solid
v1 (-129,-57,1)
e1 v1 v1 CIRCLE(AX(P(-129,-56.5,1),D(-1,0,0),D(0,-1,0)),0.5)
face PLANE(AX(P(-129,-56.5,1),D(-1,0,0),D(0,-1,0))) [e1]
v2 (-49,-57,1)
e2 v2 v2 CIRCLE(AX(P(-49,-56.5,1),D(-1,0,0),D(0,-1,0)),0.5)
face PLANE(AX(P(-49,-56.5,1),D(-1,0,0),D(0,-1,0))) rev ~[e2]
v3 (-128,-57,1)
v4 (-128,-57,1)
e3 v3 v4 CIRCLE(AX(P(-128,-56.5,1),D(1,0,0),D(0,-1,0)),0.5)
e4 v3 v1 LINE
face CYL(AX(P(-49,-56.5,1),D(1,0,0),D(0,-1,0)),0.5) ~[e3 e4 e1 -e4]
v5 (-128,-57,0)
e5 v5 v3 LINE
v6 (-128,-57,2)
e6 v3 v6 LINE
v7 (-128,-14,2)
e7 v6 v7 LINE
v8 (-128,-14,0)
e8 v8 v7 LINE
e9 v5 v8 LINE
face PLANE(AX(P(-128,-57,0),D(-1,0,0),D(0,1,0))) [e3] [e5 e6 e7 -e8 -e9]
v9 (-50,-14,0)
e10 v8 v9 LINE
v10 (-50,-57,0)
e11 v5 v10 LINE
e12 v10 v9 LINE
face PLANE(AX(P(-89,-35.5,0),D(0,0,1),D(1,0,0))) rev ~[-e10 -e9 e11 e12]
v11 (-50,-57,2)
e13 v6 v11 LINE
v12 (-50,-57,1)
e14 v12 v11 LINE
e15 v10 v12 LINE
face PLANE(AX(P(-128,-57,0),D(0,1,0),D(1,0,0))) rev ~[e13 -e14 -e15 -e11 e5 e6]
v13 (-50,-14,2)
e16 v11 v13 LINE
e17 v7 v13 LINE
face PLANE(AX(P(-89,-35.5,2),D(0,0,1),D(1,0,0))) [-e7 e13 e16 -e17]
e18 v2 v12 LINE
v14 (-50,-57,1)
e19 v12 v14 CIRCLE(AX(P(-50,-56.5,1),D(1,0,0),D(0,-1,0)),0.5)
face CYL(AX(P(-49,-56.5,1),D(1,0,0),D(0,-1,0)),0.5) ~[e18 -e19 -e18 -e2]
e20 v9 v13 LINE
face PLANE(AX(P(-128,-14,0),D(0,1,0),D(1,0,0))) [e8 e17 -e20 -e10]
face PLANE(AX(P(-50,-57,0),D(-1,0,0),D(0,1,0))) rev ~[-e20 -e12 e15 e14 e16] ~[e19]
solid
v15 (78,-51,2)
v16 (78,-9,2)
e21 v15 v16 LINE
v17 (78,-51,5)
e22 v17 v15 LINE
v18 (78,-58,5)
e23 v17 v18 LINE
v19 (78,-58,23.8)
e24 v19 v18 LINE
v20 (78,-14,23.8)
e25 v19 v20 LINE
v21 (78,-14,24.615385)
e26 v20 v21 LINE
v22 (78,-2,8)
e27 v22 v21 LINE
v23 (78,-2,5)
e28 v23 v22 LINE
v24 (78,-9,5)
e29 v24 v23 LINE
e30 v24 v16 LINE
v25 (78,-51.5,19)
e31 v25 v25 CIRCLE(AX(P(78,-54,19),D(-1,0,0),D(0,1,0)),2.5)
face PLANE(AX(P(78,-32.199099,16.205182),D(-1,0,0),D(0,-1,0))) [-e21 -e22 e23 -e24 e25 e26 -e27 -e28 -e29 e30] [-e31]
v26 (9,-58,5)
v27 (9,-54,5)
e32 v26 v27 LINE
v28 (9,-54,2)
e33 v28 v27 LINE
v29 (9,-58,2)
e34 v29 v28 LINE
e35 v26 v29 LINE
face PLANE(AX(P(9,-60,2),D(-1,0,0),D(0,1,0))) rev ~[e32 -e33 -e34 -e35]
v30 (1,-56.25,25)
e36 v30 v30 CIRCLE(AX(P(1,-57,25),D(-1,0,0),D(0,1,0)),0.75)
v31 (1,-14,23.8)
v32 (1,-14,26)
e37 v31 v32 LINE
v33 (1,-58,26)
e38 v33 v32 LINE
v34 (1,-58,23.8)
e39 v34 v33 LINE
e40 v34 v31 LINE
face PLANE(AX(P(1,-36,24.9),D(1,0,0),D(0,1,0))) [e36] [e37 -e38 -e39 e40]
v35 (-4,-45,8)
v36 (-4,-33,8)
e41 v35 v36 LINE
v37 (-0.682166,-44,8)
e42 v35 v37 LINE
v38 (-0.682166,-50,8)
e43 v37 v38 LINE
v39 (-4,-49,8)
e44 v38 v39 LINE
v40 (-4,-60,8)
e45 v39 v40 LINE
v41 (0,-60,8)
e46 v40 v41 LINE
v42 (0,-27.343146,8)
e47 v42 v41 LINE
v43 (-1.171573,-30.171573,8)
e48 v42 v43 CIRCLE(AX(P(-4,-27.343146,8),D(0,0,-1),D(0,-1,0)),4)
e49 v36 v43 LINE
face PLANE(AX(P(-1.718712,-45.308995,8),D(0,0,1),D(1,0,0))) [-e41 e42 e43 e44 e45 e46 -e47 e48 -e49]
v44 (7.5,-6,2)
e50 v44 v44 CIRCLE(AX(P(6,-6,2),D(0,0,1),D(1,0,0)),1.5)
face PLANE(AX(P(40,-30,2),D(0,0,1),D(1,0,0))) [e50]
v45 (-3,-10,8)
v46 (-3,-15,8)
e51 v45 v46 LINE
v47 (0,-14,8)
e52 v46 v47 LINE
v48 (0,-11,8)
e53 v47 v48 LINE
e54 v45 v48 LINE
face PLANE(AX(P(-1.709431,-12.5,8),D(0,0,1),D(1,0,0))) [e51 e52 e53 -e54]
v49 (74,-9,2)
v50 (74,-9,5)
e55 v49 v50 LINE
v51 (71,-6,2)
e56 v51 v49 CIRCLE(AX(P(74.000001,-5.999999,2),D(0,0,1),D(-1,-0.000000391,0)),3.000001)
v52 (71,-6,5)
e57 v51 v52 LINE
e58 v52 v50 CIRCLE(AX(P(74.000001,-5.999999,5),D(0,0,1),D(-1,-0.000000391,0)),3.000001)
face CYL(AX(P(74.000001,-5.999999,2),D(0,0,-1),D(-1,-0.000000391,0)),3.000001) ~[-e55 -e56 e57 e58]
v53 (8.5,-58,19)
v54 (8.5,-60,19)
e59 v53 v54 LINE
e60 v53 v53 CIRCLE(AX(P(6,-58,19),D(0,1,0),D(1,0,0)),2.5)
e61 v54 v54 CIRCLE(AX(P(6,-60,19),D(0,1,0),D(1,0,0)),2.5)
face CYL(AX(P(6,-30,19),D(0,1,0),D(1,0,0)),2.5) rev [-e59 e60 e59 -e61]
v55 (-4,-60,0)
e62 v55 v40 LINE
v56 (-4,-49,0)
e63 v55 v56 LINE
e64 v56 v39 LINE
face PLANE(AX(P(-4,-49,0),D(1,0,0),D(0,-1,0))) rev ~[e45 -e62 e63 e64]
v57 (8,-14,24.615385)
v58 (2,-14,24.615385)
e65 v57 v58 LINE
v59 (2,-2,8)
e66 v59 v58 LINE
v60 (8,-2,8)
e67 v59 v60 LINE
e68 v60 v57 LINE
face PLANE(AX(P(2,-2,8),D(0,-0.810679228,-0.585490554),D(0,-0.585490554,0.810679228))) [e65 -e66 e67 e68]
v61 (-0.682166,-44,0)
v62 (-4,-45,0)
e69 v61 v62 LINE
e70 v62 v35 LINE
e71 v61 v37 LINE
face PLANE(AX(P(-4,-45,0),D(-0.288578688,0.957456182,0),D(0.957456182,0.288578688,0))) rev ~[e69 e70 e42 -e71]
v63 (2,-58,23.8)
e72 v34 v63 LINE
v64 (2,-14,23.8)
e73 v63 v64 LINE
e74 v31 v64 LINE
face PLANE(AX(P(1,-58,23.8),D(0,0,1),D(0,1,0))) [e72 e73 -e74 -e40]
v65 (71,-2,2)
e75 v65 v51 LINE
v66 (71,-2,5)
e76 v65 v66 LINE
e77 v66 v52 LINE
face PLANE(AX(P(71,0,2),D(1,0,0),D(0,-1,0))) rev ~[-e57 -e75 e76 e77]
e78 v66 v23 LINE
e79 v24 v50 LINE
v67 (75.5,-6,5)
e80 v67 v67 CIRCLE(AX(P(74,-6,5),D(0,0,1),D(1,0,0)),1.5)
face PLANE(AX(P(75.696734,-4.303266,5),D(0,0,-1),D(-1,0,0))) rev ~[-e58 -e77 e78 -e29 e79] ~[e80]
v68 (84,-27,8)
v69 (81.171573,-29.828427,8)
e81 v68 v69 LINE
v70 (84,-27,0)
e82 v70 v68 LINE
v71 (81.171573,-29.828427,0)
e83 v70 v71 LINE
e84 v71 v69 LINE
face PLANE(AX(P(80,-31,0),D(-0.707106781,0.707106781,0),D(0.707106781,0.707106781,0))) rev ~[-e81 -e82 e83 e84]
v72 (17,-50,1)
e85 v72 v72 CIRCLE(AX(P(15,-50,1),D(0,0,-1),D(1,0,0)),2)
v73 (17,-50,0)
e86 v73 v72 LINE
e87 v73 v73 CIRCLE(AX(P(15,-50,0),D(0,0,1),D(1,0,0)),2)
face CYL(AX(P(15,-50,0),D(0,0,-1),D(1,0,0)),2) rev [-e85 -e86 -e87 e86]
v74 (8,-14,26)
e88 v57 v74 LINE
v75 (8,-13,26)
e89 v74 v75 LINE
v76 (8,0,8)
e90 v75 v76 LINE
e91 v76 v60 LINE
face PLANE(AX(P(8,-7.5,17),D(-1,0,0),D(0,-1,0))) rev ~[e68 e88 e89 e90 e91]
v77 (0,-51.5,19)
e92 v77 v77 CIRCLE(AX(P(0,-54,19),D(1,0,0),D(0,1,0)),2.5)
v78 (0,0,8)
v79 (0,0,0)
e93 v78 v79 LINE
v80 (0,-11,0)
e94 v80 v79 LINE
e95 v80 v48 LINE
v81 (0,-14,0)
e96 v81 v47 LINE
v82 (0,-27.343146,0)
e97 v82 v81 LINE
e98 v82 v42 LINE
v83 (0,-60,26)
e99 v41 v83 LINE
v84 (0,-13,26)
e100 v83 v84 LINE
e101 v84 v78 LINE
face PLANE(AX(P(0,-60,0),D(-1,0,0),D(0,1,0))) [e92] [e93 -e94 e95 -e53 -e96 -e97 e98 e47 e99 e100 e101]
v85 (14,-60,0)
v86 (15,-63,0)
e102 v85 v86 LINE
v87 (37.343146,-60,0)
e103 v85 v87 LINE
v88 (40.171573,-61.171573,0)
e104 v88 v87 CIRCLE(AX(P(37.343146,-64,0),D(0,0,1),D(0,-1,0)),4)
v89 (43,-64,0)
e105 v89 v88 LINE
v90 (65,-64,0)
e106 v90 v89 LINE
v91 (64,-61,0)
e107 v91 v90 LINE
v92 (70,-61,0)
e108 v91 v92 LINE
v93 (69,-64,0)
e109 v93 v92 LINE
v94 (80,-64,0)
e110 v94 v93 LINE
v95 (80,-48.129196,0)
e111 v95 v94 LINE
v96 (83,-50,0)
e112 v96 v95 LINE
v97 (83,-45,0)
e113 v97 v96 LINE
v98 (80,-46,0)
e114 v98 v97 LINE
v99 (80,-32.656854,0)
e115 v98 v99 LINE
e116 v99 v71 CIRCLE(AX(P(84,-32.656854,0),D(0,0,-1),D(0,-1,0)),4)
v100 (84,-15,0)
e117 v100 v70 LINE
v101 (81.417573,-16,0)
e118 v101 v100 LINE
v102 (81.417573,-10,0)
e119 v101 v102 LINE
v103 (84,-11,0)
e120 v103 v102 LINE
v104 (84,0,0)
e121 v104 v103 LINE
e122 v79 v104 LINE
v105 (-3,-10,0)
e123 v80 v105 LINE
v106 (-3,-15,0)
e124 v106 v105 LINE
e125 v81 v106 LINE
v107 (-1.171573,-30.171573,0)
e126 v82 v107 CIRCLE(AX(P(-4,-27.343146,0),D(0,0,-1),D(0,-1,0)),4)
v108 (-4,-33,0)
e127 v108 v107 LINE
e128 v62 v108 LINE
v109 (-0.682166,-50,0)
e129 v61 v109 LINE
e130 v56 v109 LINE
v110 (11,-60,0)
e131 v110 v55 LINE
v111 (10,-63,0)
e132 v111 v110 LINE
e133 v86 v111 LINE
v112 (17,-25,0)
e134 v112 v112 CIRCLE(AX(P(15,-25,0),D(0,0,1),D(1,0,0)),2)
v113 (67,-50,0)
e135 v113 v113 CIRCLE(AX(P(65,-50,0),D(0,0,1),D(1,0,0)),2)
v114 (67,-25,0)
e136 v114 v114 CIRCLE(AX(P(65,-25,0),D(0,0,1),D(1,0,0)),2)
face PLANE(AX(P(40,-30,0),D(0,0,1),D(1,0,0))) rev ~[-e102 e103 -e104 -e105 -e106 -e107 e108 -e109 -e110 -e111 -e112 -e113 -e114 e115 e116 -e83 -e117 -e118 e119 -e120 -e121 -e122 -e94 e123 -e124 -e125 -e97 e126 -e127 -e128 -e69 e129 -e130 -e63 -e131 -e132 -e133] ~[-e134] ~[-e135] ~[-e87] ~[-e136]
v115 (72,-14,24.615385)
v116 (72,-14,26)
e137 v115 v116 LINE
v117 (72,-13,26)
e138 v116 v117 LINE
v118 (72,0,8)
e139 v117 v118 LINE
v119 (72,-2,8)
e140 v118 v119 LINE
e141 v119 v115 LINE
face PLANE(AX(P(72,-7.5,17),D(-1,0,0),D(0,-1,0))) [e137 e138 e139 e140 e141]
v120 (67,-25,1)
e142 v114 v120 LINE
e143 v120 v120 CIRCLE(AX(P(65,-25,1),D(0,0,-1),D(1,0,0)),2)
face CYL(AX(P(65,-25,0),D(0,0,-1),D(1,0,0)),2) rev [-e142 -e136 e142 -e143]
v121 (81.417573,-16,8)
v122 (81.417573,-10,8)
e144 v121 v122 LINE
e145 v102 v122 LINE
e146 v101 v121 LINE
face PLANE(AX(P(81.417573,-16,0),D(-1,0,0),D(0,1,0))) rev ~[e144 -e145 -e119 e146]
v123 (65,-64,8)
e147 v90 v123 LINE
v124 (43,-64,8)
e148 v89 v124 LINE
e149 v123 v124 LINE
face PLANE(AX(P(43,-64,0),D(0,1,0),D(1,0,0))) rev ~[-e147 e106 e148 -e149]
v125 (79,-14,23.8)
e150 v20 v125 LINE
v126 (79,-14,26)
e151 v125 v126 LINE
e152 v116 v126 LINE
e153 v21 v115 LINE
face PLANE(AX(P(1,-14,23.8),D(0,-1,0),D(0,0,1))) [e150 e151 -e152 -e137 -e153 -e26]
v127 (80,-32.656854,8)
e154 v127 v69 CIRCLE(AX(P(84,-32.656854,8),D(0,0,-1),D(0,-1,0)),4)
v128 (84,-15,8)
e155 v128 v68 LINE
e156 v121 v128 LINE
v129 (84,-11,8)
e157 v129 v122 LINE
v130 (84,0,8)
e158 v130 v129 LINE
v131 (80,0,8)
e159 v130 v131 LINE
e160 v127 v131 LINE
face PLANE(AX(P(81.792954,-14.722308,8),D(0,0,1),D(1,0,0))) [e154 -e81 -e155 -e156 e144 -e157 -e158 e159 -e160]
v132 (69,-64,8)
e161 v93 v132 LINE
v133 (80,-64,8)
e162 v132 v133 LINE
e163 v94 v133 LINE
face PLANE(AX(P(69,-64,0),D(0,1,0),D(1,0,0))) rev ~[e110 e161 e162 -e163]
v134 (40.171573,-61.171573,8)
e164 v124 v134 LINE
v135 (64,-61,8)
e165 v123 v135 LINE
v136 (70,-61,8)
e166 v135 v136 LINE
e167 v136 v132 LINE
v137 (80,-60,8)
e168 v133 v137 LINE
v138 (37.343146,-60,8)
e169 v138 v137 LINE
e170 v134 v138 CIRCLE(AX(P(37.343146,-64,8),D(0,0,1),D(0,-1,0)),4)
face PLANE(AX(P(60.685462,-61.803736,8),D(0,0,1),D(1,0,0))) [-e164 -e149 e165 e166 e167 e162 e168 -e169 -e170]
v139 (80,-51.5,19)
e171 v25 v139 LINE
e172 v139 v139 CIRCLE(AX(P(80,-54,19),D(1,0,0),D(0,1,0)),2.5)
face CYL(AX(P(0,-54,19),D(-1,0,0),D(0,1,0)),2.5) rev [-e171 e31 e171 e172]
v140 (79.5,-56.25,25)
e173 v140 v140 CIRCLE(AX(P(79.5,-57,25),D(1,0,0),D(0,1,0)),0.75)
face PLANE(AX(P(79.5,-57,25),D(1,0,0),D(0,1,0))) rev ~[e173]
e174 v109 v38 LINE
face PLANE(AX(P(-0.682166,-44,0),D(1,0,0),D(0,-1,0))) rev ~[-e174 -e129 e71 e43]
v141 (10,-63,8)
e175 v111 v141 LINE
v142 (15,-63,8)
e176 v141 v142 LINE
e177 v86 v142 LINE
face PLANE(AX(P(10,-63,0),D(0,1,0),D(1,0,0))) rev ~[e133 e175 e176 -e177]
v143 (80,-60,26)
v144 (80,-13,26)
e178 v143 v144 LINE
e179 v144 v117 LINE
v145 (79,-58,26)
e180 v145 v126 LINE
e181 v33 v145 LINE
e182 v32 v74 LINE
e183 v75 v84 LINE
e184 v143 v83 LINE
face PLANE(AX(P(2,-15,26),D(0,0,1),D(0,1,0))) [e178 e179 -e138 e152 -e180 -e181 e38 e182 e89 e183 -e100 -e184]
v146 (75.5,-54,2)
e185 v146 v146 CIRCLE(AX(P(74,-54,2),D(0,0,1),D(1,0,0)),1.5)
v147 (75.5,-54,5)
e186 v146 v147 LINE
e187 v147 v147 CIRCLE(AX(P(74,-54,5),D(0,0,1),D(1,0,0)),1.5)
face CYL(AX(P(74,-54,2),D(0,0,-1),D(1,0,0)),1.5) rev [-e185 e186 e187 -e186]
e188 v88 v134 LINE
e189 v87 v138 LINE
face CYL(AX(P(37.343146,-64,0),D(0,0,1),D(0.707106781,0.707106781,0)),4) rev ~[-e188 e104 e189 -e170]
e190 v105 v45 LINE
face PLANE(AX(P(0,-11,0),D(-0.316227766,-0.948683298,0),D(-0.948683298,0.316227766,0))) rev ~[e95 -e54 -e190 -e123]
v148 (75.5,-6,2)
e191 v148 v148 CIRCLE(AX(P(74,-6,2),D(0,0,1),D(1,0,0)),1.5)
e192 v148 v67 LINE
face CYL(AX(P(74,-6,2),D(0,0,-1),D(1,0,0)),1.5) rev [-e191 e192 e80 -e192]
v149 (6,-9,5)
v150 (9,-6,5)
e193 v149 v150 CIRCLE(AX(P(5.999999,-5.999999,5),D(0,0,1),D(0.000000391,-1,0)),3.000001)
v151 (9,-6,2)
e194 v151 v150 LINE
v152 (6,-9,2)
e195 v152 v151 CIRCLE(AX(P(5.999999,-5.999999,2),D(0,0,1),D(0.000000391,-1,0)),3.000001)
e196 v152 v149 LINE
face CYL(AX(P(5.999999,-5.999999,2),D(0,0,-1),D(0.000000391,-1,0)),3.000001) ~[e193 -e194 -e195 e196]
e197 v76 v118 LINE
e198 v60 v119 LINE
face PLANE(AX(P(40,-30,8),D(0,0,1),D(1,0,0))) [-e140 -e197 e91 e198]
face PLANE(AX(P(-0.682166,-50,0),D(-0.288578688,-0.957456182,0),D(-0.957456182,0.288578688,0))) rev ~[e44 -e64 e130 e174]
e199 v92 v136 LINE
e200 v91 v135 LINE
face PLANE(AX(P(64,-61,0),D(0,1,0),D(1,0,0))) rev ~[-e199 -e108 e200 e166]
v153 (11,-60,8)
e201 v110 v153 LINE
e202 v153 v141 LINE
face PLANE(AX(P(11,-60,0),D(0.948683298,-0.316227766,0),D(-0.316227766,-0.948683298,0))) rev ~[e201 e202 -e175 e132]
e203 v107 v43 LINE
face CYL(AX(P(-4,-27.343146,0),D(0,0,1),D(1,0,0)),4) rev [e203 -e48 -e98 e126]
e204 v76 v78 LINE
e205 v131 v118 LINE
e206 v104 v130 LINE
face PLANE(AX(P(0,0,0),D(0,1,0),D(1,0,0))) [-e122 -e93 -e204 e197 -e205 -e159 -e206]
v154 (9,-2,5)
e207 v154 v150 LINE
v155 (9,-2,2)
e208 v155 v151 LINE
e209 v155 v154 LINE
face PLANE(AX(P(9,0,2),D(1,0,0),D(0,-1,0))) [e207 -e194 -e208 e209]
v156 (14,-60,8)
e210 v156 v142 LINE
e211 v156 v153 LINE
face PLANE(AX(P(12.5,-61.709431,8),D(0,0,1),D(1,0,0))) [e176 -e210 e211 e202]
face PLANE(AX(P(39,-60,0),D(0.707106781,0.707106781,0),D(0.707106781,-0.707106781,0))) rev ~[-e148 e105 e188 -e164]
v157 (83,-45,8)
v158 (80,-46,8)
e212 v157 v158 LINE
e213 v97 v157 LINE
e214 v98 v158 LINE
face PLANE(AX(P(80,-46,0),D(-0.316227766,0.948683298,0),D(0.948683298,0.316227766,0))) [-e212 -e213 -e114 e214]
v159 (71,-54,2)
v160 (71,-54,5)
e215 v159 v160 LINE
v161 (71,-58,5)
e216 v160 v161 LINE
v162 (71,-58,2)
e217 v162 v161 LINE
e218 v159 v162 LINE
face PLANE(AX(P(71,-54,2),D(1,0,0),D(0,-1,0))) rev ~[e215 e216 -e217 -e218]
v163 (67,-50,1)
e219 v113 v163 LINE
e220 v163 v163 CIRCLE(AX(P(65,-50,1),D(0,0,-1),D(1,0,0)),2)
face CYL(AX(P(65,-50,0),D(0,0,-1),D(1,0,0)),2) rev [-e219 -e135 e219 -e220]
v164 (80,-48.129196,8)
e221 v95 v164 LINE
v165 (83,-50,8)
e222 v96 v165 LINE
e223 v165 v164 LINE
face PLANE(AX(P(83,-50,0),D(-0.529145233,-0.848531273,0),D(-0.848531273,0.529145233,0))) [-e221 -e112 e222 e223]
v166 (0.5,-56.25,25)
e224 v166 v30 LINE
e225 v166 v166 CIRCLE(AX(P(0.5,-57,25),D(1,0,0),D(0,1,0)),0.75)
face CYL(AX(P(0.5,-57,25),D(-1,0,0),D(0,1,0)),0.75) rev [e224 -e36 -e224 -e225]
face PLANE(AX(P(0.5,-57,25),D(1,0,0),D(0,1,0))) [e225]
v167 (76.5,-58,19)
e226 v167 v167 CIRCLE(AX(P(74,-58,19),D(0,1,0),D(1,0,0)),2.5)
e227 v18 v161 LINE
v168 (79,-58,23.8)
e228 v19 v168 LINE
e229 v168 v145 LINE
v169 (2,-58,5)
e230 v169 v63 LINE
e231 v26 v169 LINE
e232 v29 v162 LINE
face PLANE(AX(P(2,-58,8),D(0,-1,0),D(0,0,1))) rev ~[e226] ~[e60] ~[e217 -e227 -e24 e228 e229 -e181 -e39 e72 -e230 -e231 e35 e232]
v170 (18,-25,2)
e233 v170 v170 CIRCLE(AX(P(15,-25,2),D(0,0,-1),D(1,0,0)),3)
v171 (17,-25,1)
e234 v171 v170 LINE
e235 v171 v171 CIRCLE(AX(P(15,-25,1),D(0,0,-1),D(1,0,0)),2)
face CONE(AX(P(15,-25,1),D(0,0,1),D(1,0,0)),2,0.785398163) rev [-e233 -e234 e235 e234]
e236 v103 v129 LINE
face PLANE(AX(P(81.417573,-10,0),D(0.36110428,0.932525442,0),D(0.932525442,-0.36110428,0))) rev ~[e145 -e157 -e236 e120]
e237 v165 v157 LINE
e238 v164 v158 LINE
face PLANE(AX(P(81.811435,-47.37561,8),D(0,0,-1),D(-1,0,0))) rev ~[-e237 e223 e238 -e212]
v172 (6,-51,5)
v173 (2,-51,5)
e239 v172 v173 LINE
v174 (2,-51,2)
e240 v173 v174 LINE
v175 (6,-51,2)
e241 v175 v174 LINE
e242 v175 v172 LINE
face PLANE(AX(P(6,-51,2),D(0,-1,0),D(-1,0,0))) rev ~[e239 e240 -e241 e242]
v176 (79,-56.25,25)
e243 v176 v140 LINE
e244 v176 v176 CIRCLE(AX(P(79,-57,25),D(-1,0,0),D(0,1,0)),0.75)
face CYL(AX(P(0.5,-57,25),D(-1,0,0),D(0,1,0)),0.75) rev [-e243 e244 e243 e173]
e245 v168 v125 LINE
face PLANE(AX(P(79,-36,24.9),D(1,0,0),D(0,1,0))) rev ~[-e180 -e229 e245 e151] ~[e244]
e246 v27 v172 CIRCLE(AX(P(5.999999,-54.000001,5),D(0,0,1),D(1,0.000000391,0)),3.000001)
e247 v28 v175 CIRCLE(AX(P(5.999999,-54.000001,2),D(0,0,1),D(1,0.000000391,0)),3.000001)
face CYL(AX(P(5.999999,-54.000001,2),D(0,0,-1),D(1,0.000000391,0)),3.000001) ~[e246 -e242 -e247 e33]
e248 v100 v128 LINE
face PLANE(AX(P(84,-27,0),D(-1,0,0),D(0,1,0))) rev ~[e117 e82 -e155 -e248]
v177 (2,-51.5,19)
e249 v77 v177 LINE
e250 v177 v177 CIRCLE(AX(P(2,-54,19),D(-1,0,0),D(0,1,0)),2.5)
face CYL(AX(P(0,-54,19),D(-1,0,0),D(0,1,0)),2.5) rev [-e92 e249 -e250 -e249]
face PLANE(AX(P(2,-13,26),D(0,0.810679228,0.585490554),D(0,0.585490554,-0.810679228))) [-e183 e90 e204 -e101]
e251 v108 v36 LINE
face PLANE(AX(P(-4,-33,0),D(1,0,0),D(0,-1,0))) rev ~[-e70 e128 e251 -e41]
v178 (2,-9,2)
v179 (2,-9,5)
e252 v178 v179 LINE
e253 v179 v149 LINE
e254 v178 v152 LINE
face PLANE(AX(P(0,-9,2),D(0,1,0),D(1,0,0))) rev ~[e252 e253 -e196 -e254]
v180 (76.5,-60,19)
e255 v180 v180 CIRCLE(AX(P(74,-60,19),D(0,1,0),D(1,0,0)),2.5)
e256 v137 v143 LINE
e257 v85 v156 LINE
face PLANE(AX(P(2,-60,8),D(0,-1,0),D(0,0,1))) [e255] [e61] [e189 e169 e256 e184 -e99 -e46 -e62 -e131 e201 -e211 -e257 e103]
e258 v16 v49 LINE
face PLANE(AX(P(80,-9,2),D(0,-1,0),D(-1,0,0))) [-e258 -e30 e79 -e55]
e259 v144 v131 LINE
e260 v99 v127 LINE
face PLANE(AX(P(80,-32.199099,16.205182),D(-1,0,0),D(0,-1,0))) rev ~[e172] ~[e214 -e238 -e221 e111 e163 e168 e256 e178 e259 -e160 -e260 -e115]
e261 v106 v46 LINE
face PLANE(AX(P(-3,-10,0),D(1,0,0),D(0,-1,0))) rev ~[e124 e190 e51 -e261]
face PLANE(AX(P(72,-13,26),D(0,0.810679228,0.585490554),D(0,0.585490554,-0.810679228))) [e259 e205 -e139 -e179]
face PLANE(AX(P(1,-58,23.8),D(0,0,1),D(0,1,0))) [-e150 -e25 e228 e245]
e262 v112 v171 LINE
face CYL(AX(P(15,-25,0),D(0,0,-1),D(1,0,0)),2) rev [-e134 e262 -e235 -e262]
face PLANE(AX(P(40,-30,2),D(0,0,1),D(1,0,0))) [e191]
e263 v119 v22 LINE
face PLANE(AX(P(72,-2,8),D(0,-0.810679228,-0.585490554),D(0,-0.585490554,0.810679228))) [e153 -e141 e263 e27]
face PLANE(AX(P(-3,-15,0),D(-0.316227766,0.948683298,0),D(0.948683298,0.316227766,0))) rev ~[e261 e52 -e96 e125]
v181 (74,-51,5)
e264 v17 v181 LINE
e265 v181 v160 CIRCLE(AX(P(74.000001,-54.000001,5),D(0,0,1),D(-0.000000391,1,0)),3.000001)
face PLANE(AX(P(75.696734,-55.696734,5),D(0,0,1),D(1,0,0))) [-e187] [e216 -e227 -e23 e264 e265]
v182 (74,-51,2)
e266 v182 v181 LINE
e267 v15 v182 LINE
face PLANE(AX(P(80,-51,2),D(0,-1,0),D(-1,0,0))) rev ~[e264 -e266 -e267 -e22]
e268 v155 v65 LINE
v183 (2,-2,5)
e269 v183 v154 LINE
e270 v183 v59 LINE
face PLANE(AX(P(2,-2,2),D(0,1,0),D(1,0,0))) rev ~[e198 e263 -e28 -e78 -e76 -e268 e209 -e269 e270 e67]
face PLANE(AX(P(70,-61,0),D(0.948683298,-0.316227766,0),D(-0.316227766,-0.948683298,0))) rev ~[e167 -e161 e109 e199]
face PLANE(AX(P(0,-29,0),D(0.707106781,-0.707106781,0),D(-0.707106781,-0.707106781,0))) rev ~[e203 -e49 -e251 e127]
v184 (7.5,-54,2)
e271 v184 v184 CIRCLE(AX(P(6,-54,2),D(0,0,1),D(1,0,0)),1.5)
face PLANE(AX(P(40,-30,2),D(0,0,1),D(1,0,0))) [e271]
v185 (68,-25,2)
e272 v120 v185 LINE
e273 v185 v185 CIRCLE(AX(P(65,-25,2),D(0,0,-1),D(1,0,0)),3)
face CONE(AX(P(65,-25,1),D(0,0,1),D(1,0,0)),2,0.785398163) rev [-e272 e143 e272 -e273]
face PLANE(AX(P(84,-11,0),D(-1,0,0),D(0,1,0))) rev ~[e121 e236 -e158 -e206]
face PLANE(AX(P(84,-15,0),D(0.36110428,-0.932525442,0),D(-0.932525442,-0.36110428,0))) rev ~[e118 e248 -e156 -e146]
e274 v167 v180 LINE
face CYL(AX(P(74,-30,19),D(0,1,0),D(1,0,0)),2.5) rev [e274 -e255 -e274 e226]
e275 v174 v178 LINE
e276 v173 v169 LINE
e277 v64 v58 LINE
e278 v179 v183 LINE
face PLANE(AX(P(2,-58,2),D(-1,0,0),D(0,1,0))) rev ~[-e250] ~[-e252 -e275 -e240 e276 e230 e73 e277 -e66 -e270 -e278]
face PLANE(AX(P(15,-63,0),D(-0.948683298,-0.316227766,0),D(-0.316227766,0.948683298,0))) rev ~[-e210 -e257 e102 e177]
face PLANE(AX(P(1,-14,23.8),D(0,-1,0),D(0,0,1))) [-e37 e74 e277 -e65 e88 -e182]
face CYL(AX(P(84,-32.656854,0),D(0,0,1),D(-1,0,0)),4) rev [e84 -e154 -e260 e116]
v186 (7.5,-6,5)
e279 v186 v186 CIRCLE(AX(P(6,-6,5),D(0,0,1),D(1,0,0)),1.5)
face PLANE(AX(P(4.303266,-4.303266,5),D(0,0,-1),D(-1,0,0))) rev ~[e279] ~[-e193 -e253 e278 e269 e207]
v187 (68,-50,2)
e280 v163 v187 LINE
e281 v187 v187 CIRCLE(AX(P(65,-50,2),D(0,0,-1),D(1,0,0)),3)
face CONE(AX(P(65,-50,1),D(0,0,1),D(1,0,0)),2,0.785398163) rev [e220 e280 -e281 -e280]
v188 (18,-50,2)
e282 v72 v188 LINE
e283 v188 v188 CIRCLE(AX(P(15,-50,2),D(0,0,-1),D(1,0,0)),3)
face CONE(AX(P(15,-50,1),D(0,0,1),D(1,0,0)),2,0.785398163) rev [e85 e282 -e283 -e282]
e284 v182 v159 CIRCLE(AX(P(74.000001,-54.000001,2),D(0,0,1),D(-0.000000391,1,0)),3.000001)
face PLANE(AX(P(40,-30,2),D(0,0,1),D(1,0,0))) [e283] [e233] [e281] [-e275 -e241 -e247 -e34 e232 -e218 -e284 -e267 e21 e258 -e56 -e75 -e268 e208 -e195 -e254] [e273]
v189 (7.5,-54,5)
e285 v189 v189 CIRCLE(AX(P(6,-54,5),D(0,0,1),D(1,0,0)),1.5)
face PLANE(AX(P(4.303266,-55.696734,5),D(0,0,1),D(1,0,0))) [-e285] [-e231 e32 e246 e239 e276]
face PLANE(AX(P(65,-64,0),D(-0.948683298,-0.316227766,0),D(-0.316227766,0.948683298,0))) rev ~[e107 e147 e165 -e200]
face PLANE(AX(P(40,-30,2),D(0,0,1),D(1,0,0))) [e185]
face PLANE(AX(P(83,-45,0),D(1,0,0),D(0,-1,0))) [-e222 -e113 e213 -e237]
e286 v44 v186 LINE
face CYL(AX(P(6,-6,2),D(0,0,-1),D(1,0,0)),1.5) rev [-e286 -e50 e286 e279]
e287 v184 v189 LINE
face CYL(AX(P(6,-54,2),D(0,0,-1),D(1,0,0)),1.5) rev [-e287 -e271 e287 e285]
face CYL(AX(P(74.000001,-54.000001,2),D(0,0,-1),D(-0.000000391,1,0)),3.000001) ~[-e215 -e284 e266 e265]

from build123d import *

# Parameters (mm, degrees)
SKETCH013_W   = 78
SKETCH013_H   = 43
PAD013_DEPTH  = 2
SKETCH014_R   = 0.5
PAD014_DEPTH  = 80
SKETCH015_R   = 2
PAD015_DEPTH  = 10
SKETCH012_R   = 2.5
PAD012_DEPTH  = 40
PAD011_DEPTH  = 8
FILLET_R      = 0.5
SKETCH010_R   = 2.5
PAD010_DEPTH  = 80
SKETCH009_R   = 0.75
PAD009_DEPTH  = 79
SKETCH004_W   = 44
SKETCH004_H   = 2.2
PAD004_DEPTH  = 78
SKETCH002_R   = 1.5
PAD002_DEPTH  = 3
SKETCH001_W   = 80
SKETCH001_H   = 60
SKETCH001_W_2 = 76
SKETCH001_H_2 = 56
PAD001_DEPTH  = 6
SKETCH_W      = 80
SKETCH_H      = 60
PAD_DEPTH     = 2
PAD005_DEPTH  = 2
PAD007_DEPTH  = 6
SKETCH008_W   = 2
SKETCH008_H   = 18
PAD008_DEPTH  = 76
PAD006_DEPTH  = 6
PAD003_DEPTH  = 2
FILLET001_R   = 4
CHAMFER_SIZE  = 1


with BuildPart() as pad013:
    # Sketch013 → Pad013 (new body)
    with BuildSketch(Plane.XY):
        with Locations((-89, -35.5)):
            Rectangle(SKETCH013_W, SKETCH013_H)
    extrude(amount=PAD013_DEPTH)


with BuildPart() as tampa:
    # Sketch014 → Pad014 (new body)
    with BuildSketch(Plane(origin=(-49, 0, 0), x_dir=(0, -1, 0), z_dir=(-1, 0, 0))):
        with Locations((56.5, 1)):
            Circle(SKETCH014_R)
    extrude(amount=PAD014_DEPTH)

    # Fusion004: union Pad013
    add(pad013.part)


with BuildPart() as parafusos:
    # Sketch015 → Pad015 (new body)
    with BuildSketch(Plane.XY):
        with Locations((15, -25)):
            Circle(SKETCH015_R)
        with Locations((65, -25)):
            Circle(SKETCH015_R)
        with Locations((15, -50)):
            Circle(SKETCH015_R)
        with Locations((65, -50)):
            Circle(SKETCH015_R)
    extrude(amount=PAD015_DEPTH)


with BuildPart() as pad012:
    # Sketch012 → Pad012 (new body)
    with BuildSketch(Plane.XZ.offset(30)):
        with Locations((6, 19)):
            Circle(SKETCH012_R)
        with Locations((74, 19)):
            Circle(SKETCH012_R)
    extrude(amount=PAD012_DEPTH)


with BuildPart() as pad011:
    # Sketch011 → Pad011 (new body)
    with BuildSketch(Plane.XY):
        Polygon((0, -11), (-3, -10), (-3, -15), (0, -14), align=None)
        Polygon((0, -29), (-4, -33), (-4, -45), (-0.682166, -44), (-0.682166, -50), (-4, -49), (-4, -60), (0, -60), align=None)
        Polygon((11, -60), (10, -63), (15, -63), (14, -60), align=None)
        Polygon((39, -60), (43, -64), (65, -64), (64, -61), (70, -61), (69, -64), (80, -64), (80, -60), align=None)
        Polygon((80, 0), (80, -31), (84, -27), (84, -15), (81.417573, -16), (81.417573, -10), (84, -11), (84, 0), align=None)
        Polygon((80, -46), (83, -45), (83, -50), (80, -48.129196), align=None)
    extrude(amount=PAD011_DEPTH)


with BuildPart() as fillet_body:
    # Fillet base: copy of Pad011
    add(pad011.part)

    # Fillet
    fillet_edges = [fillet_body.edges().sort_by_distance(p)[0] for p in [
        (-3, -10, 4),
        (-3, -15, 4),
        (-4, -45, 4),
        (-4, -49, 4),
        (10, -63, 4),
        (15, -63, 4),
        (65, -64, 4),
        (69, -64, 4),
        (83, -50, 4),
        (83, -45, 4),
        (84, -15, 4),
        (84, -11, 4),
    ]]
    fillet(fillet_edges, radius=FILLET_R)


with BuildPart() as pad010:
    # Sketch010 → Pad010 (new body)
    with BuildSketch(Plane.YZ):
        with Locations((-54, 19)):
            Circle(SKETCH010_R)
    extrude(amount=PAD010_DEPTH)


with BuildPart() as pad009:
    # Sketch009 → Pad009 (new body)
    with BuildSketch(Plane.YZ.offset(0.5)):
        with Locations((-57, 25)):
            Circle(SKETCH009_R)
    extrude(amount=PAD009_DEPTH)


with BuildPart() as corte_da_tampa:
    # Sketch004 → Pad004 (new body)
    with BuildSketch(Plane.YZ.offset(1)):
        with Locations((-36, 24.9)):
            Rectangle(SKETCH004_W, SKETCH004_H)
    extrude(amount=PAD004_DEPTH)


with BuildPart() as pad002:
    # Sketch002 → Pad002 (new body)
    with BuildSketch(Plane.XY.offset(2)):
        with BuildLine():
            Line((9, 0), (9, -6))
            ThreePointArc((6, -9), (8.12132, -8.12132), (9, -6))
            Line((0, -9), (6, -9))
            Line((0, 0), (0, -9))
            Line((0, 0), (9, 0))
        make_face()
        with Locations((6, -6)):
            Circle(SKETCH002_R, mode=Mode.SUBTRACT)
        with BuildLine():
            Line((71, 0), (80, 0))
            Line((80, 0), (80, -9))
            Line((80, -9), (74, -9))
            ThreePointArc((71, -6), (71.87868, -8.12132), (74, -9))
            Line((71, 0), (71, -6))
        make_face()
        with Locations((74, -6)):
            Circle(SKETCH002_R, mode=Mode.SUBTRACT)
        with BuildLine():
            Line((6, -51), (0, -51))
            Line((0, -51), (0, -60))
            Line((0, -60), (9, -60))
            Line((9, -60), (9, -54))
            ThreePointArc((9, -54), (8.12132, -51.87868), (6, -51))
        make_face()
        with Locations((6, -54)):
            Circle(SKETCH002_R, mode=Mode.SUBTRACT)
        with BuildLine():
            Line((71, -54), (71, -60))
            Line((71, -60), (80, -60))
            Line((80, -60), (80, -51))
            Line((80, -51), (74, -51))
            ThreePointArc((74, -51), (71.87868, -51.87868), (71, -54))
        make_face()
        with Locations((74, -54)):
            Circle(SKETCH002_R, mode=Mode.SUBTRACT)
    extrude(amount=PAD002_DEPTH)


with BuildPart() as pad001:
    # Sketch001 → Pad001 (new body)
    with BuildSketch(Plane.XY.offset(2)):
        with Locations((40, -30)):
            Rectangle(SKETCH001_W, SKETCH001_H)
        with Locations((40, -30)):
            Rectangle(SKETCH001_W_2, SKETCH001_H_2, mode=Mode.SUBTRACT)
    extrude(amount=PAD001_DEPTH)


with BuildPart() as base:
    # Sketch → Pad (new body)
    with BuildSketch(Plane.XY):
        with Locations((40, -30)):
            Rectangle(SKETCH_W, SKETCH_H)
    extrude(amount=PAD_DEPTH)


with BuildPart() as pad005:
    # Sketch005 → Pad005 (new body)
    with BuildSketch(Plane.YZ.offset(78)):
        Polygon((0, 8), (-60, 8), (-60, 26), (-13, 26), align=None)
    extrude(amount=PAD005_DEPTH)


with BuildPart() as pad007:
    # Sketch007 → Pad007 (new body)
    with BuildSketch(Plane.YZ.offset(72)):
        Polygon((0, 8), (-2, 8), (-15, 26), (-13, 26), align=None)
    extrude(amount=PAD007_DEPTH)


with BuildPart() as pad008:
    # Sketch008 → Pad008 (new body)
    with BuildSketch(Plane.YZ.offset(2)):
        with Locations((-59, 17)):
            Rectangle(SKETCH008_W, SKETCH008_H)
    extrude(amount=PAD008_DEPTH)


with BuildPart() as pad006:
    # Sketch006 → Pad006 (new body)
    with BuildSketch(Plane.YZ.offset(2)):
        Polygon((0, 8), (-2, 8), (-15, 26), (-13, 26), align=None)
    extrude(amount=PAD006_DEPTH)


with BuildPart() as cut002:
    # Sketch003 → Pad003 (new body)
    with BuildSketch(Plane.YZ):
        Polygon((0, 8), (-60, 8), (-60, 26), (-13, 26), align=None)
    extrude(amount=PAD003_DEPTH)

    # Fusion: union Pad002, Pad001, Base, Pad005, Pad007, Pad008, Pad006
    add(pad002.part)
    add(pad001.part)
    add(base.part)
    add(pad005.part)
    add(pad007.part)
    add(pad008.part)
    add(pad006.part)

    # Cut: cut Corte da tampa
    add(corte_da_tampa.part, mode=Mode.SUBTRACT)

    # Cut001: cut Pad009
    add(pad009.part, mode=Mode.SUBTRACT)

    # Cut002: cut Pad010
    add(pad010.part, mode=Mode.SUBTRACT)


with BuildPart() as fusion002:
    # Fusion001 base: copy of Pad011
    add(pad011.part)

    # Fusion001: union Cut002
    add(cut002.part)

    # Fusion002: union Fillet body
    add(fillet_body.part)


with BuildPart() as fillet001:
    # Fillet001 base: copy of Fusion002
    add(fusion002.part)

    # Fillet001
    fillet001_edges = [fillet001.edges().sort_by_distance(p)[0] for p in [
        (84, -27, 4),
        (80, -31, 5),
        (80, -31, 1),
        (43, -64, 4),
        (39, -60, 5),
        (39, -60, 1),
        (-4, -33, 4),
        (0, -29, 5),
        (0, -29, 1),
    ]]
    fillet(fillet001_edges, radius=FILLET001_R)


with BuildPart() as chamfer_body:
    # Fusion003 base: copy of Fusion002
    add(fusion002.part)

    # Fusion003: union Fillet001
    add(fillet001.part)

    # Cut003: cut Pad012
    add(pad012.part, mode=Mode.SUBTRACT)

    # Cut004: cut Parafusos
    add(parafusos.part, mode=Mode.SUBTRACT)

    # Chamfer
    chamfer_edges = [chamfer_body.edges().sort_by_distance(p)[0] for p in [
        (13, -25, 2),
        (63, -25, 2),
        (63, -50, 2),
        (13, -50, 2),
    ]]
    chamfer(chamfer_edges, length=CHAMFER_SIZE)


solid = Compound([tampa.part, chamfer_body.part])
